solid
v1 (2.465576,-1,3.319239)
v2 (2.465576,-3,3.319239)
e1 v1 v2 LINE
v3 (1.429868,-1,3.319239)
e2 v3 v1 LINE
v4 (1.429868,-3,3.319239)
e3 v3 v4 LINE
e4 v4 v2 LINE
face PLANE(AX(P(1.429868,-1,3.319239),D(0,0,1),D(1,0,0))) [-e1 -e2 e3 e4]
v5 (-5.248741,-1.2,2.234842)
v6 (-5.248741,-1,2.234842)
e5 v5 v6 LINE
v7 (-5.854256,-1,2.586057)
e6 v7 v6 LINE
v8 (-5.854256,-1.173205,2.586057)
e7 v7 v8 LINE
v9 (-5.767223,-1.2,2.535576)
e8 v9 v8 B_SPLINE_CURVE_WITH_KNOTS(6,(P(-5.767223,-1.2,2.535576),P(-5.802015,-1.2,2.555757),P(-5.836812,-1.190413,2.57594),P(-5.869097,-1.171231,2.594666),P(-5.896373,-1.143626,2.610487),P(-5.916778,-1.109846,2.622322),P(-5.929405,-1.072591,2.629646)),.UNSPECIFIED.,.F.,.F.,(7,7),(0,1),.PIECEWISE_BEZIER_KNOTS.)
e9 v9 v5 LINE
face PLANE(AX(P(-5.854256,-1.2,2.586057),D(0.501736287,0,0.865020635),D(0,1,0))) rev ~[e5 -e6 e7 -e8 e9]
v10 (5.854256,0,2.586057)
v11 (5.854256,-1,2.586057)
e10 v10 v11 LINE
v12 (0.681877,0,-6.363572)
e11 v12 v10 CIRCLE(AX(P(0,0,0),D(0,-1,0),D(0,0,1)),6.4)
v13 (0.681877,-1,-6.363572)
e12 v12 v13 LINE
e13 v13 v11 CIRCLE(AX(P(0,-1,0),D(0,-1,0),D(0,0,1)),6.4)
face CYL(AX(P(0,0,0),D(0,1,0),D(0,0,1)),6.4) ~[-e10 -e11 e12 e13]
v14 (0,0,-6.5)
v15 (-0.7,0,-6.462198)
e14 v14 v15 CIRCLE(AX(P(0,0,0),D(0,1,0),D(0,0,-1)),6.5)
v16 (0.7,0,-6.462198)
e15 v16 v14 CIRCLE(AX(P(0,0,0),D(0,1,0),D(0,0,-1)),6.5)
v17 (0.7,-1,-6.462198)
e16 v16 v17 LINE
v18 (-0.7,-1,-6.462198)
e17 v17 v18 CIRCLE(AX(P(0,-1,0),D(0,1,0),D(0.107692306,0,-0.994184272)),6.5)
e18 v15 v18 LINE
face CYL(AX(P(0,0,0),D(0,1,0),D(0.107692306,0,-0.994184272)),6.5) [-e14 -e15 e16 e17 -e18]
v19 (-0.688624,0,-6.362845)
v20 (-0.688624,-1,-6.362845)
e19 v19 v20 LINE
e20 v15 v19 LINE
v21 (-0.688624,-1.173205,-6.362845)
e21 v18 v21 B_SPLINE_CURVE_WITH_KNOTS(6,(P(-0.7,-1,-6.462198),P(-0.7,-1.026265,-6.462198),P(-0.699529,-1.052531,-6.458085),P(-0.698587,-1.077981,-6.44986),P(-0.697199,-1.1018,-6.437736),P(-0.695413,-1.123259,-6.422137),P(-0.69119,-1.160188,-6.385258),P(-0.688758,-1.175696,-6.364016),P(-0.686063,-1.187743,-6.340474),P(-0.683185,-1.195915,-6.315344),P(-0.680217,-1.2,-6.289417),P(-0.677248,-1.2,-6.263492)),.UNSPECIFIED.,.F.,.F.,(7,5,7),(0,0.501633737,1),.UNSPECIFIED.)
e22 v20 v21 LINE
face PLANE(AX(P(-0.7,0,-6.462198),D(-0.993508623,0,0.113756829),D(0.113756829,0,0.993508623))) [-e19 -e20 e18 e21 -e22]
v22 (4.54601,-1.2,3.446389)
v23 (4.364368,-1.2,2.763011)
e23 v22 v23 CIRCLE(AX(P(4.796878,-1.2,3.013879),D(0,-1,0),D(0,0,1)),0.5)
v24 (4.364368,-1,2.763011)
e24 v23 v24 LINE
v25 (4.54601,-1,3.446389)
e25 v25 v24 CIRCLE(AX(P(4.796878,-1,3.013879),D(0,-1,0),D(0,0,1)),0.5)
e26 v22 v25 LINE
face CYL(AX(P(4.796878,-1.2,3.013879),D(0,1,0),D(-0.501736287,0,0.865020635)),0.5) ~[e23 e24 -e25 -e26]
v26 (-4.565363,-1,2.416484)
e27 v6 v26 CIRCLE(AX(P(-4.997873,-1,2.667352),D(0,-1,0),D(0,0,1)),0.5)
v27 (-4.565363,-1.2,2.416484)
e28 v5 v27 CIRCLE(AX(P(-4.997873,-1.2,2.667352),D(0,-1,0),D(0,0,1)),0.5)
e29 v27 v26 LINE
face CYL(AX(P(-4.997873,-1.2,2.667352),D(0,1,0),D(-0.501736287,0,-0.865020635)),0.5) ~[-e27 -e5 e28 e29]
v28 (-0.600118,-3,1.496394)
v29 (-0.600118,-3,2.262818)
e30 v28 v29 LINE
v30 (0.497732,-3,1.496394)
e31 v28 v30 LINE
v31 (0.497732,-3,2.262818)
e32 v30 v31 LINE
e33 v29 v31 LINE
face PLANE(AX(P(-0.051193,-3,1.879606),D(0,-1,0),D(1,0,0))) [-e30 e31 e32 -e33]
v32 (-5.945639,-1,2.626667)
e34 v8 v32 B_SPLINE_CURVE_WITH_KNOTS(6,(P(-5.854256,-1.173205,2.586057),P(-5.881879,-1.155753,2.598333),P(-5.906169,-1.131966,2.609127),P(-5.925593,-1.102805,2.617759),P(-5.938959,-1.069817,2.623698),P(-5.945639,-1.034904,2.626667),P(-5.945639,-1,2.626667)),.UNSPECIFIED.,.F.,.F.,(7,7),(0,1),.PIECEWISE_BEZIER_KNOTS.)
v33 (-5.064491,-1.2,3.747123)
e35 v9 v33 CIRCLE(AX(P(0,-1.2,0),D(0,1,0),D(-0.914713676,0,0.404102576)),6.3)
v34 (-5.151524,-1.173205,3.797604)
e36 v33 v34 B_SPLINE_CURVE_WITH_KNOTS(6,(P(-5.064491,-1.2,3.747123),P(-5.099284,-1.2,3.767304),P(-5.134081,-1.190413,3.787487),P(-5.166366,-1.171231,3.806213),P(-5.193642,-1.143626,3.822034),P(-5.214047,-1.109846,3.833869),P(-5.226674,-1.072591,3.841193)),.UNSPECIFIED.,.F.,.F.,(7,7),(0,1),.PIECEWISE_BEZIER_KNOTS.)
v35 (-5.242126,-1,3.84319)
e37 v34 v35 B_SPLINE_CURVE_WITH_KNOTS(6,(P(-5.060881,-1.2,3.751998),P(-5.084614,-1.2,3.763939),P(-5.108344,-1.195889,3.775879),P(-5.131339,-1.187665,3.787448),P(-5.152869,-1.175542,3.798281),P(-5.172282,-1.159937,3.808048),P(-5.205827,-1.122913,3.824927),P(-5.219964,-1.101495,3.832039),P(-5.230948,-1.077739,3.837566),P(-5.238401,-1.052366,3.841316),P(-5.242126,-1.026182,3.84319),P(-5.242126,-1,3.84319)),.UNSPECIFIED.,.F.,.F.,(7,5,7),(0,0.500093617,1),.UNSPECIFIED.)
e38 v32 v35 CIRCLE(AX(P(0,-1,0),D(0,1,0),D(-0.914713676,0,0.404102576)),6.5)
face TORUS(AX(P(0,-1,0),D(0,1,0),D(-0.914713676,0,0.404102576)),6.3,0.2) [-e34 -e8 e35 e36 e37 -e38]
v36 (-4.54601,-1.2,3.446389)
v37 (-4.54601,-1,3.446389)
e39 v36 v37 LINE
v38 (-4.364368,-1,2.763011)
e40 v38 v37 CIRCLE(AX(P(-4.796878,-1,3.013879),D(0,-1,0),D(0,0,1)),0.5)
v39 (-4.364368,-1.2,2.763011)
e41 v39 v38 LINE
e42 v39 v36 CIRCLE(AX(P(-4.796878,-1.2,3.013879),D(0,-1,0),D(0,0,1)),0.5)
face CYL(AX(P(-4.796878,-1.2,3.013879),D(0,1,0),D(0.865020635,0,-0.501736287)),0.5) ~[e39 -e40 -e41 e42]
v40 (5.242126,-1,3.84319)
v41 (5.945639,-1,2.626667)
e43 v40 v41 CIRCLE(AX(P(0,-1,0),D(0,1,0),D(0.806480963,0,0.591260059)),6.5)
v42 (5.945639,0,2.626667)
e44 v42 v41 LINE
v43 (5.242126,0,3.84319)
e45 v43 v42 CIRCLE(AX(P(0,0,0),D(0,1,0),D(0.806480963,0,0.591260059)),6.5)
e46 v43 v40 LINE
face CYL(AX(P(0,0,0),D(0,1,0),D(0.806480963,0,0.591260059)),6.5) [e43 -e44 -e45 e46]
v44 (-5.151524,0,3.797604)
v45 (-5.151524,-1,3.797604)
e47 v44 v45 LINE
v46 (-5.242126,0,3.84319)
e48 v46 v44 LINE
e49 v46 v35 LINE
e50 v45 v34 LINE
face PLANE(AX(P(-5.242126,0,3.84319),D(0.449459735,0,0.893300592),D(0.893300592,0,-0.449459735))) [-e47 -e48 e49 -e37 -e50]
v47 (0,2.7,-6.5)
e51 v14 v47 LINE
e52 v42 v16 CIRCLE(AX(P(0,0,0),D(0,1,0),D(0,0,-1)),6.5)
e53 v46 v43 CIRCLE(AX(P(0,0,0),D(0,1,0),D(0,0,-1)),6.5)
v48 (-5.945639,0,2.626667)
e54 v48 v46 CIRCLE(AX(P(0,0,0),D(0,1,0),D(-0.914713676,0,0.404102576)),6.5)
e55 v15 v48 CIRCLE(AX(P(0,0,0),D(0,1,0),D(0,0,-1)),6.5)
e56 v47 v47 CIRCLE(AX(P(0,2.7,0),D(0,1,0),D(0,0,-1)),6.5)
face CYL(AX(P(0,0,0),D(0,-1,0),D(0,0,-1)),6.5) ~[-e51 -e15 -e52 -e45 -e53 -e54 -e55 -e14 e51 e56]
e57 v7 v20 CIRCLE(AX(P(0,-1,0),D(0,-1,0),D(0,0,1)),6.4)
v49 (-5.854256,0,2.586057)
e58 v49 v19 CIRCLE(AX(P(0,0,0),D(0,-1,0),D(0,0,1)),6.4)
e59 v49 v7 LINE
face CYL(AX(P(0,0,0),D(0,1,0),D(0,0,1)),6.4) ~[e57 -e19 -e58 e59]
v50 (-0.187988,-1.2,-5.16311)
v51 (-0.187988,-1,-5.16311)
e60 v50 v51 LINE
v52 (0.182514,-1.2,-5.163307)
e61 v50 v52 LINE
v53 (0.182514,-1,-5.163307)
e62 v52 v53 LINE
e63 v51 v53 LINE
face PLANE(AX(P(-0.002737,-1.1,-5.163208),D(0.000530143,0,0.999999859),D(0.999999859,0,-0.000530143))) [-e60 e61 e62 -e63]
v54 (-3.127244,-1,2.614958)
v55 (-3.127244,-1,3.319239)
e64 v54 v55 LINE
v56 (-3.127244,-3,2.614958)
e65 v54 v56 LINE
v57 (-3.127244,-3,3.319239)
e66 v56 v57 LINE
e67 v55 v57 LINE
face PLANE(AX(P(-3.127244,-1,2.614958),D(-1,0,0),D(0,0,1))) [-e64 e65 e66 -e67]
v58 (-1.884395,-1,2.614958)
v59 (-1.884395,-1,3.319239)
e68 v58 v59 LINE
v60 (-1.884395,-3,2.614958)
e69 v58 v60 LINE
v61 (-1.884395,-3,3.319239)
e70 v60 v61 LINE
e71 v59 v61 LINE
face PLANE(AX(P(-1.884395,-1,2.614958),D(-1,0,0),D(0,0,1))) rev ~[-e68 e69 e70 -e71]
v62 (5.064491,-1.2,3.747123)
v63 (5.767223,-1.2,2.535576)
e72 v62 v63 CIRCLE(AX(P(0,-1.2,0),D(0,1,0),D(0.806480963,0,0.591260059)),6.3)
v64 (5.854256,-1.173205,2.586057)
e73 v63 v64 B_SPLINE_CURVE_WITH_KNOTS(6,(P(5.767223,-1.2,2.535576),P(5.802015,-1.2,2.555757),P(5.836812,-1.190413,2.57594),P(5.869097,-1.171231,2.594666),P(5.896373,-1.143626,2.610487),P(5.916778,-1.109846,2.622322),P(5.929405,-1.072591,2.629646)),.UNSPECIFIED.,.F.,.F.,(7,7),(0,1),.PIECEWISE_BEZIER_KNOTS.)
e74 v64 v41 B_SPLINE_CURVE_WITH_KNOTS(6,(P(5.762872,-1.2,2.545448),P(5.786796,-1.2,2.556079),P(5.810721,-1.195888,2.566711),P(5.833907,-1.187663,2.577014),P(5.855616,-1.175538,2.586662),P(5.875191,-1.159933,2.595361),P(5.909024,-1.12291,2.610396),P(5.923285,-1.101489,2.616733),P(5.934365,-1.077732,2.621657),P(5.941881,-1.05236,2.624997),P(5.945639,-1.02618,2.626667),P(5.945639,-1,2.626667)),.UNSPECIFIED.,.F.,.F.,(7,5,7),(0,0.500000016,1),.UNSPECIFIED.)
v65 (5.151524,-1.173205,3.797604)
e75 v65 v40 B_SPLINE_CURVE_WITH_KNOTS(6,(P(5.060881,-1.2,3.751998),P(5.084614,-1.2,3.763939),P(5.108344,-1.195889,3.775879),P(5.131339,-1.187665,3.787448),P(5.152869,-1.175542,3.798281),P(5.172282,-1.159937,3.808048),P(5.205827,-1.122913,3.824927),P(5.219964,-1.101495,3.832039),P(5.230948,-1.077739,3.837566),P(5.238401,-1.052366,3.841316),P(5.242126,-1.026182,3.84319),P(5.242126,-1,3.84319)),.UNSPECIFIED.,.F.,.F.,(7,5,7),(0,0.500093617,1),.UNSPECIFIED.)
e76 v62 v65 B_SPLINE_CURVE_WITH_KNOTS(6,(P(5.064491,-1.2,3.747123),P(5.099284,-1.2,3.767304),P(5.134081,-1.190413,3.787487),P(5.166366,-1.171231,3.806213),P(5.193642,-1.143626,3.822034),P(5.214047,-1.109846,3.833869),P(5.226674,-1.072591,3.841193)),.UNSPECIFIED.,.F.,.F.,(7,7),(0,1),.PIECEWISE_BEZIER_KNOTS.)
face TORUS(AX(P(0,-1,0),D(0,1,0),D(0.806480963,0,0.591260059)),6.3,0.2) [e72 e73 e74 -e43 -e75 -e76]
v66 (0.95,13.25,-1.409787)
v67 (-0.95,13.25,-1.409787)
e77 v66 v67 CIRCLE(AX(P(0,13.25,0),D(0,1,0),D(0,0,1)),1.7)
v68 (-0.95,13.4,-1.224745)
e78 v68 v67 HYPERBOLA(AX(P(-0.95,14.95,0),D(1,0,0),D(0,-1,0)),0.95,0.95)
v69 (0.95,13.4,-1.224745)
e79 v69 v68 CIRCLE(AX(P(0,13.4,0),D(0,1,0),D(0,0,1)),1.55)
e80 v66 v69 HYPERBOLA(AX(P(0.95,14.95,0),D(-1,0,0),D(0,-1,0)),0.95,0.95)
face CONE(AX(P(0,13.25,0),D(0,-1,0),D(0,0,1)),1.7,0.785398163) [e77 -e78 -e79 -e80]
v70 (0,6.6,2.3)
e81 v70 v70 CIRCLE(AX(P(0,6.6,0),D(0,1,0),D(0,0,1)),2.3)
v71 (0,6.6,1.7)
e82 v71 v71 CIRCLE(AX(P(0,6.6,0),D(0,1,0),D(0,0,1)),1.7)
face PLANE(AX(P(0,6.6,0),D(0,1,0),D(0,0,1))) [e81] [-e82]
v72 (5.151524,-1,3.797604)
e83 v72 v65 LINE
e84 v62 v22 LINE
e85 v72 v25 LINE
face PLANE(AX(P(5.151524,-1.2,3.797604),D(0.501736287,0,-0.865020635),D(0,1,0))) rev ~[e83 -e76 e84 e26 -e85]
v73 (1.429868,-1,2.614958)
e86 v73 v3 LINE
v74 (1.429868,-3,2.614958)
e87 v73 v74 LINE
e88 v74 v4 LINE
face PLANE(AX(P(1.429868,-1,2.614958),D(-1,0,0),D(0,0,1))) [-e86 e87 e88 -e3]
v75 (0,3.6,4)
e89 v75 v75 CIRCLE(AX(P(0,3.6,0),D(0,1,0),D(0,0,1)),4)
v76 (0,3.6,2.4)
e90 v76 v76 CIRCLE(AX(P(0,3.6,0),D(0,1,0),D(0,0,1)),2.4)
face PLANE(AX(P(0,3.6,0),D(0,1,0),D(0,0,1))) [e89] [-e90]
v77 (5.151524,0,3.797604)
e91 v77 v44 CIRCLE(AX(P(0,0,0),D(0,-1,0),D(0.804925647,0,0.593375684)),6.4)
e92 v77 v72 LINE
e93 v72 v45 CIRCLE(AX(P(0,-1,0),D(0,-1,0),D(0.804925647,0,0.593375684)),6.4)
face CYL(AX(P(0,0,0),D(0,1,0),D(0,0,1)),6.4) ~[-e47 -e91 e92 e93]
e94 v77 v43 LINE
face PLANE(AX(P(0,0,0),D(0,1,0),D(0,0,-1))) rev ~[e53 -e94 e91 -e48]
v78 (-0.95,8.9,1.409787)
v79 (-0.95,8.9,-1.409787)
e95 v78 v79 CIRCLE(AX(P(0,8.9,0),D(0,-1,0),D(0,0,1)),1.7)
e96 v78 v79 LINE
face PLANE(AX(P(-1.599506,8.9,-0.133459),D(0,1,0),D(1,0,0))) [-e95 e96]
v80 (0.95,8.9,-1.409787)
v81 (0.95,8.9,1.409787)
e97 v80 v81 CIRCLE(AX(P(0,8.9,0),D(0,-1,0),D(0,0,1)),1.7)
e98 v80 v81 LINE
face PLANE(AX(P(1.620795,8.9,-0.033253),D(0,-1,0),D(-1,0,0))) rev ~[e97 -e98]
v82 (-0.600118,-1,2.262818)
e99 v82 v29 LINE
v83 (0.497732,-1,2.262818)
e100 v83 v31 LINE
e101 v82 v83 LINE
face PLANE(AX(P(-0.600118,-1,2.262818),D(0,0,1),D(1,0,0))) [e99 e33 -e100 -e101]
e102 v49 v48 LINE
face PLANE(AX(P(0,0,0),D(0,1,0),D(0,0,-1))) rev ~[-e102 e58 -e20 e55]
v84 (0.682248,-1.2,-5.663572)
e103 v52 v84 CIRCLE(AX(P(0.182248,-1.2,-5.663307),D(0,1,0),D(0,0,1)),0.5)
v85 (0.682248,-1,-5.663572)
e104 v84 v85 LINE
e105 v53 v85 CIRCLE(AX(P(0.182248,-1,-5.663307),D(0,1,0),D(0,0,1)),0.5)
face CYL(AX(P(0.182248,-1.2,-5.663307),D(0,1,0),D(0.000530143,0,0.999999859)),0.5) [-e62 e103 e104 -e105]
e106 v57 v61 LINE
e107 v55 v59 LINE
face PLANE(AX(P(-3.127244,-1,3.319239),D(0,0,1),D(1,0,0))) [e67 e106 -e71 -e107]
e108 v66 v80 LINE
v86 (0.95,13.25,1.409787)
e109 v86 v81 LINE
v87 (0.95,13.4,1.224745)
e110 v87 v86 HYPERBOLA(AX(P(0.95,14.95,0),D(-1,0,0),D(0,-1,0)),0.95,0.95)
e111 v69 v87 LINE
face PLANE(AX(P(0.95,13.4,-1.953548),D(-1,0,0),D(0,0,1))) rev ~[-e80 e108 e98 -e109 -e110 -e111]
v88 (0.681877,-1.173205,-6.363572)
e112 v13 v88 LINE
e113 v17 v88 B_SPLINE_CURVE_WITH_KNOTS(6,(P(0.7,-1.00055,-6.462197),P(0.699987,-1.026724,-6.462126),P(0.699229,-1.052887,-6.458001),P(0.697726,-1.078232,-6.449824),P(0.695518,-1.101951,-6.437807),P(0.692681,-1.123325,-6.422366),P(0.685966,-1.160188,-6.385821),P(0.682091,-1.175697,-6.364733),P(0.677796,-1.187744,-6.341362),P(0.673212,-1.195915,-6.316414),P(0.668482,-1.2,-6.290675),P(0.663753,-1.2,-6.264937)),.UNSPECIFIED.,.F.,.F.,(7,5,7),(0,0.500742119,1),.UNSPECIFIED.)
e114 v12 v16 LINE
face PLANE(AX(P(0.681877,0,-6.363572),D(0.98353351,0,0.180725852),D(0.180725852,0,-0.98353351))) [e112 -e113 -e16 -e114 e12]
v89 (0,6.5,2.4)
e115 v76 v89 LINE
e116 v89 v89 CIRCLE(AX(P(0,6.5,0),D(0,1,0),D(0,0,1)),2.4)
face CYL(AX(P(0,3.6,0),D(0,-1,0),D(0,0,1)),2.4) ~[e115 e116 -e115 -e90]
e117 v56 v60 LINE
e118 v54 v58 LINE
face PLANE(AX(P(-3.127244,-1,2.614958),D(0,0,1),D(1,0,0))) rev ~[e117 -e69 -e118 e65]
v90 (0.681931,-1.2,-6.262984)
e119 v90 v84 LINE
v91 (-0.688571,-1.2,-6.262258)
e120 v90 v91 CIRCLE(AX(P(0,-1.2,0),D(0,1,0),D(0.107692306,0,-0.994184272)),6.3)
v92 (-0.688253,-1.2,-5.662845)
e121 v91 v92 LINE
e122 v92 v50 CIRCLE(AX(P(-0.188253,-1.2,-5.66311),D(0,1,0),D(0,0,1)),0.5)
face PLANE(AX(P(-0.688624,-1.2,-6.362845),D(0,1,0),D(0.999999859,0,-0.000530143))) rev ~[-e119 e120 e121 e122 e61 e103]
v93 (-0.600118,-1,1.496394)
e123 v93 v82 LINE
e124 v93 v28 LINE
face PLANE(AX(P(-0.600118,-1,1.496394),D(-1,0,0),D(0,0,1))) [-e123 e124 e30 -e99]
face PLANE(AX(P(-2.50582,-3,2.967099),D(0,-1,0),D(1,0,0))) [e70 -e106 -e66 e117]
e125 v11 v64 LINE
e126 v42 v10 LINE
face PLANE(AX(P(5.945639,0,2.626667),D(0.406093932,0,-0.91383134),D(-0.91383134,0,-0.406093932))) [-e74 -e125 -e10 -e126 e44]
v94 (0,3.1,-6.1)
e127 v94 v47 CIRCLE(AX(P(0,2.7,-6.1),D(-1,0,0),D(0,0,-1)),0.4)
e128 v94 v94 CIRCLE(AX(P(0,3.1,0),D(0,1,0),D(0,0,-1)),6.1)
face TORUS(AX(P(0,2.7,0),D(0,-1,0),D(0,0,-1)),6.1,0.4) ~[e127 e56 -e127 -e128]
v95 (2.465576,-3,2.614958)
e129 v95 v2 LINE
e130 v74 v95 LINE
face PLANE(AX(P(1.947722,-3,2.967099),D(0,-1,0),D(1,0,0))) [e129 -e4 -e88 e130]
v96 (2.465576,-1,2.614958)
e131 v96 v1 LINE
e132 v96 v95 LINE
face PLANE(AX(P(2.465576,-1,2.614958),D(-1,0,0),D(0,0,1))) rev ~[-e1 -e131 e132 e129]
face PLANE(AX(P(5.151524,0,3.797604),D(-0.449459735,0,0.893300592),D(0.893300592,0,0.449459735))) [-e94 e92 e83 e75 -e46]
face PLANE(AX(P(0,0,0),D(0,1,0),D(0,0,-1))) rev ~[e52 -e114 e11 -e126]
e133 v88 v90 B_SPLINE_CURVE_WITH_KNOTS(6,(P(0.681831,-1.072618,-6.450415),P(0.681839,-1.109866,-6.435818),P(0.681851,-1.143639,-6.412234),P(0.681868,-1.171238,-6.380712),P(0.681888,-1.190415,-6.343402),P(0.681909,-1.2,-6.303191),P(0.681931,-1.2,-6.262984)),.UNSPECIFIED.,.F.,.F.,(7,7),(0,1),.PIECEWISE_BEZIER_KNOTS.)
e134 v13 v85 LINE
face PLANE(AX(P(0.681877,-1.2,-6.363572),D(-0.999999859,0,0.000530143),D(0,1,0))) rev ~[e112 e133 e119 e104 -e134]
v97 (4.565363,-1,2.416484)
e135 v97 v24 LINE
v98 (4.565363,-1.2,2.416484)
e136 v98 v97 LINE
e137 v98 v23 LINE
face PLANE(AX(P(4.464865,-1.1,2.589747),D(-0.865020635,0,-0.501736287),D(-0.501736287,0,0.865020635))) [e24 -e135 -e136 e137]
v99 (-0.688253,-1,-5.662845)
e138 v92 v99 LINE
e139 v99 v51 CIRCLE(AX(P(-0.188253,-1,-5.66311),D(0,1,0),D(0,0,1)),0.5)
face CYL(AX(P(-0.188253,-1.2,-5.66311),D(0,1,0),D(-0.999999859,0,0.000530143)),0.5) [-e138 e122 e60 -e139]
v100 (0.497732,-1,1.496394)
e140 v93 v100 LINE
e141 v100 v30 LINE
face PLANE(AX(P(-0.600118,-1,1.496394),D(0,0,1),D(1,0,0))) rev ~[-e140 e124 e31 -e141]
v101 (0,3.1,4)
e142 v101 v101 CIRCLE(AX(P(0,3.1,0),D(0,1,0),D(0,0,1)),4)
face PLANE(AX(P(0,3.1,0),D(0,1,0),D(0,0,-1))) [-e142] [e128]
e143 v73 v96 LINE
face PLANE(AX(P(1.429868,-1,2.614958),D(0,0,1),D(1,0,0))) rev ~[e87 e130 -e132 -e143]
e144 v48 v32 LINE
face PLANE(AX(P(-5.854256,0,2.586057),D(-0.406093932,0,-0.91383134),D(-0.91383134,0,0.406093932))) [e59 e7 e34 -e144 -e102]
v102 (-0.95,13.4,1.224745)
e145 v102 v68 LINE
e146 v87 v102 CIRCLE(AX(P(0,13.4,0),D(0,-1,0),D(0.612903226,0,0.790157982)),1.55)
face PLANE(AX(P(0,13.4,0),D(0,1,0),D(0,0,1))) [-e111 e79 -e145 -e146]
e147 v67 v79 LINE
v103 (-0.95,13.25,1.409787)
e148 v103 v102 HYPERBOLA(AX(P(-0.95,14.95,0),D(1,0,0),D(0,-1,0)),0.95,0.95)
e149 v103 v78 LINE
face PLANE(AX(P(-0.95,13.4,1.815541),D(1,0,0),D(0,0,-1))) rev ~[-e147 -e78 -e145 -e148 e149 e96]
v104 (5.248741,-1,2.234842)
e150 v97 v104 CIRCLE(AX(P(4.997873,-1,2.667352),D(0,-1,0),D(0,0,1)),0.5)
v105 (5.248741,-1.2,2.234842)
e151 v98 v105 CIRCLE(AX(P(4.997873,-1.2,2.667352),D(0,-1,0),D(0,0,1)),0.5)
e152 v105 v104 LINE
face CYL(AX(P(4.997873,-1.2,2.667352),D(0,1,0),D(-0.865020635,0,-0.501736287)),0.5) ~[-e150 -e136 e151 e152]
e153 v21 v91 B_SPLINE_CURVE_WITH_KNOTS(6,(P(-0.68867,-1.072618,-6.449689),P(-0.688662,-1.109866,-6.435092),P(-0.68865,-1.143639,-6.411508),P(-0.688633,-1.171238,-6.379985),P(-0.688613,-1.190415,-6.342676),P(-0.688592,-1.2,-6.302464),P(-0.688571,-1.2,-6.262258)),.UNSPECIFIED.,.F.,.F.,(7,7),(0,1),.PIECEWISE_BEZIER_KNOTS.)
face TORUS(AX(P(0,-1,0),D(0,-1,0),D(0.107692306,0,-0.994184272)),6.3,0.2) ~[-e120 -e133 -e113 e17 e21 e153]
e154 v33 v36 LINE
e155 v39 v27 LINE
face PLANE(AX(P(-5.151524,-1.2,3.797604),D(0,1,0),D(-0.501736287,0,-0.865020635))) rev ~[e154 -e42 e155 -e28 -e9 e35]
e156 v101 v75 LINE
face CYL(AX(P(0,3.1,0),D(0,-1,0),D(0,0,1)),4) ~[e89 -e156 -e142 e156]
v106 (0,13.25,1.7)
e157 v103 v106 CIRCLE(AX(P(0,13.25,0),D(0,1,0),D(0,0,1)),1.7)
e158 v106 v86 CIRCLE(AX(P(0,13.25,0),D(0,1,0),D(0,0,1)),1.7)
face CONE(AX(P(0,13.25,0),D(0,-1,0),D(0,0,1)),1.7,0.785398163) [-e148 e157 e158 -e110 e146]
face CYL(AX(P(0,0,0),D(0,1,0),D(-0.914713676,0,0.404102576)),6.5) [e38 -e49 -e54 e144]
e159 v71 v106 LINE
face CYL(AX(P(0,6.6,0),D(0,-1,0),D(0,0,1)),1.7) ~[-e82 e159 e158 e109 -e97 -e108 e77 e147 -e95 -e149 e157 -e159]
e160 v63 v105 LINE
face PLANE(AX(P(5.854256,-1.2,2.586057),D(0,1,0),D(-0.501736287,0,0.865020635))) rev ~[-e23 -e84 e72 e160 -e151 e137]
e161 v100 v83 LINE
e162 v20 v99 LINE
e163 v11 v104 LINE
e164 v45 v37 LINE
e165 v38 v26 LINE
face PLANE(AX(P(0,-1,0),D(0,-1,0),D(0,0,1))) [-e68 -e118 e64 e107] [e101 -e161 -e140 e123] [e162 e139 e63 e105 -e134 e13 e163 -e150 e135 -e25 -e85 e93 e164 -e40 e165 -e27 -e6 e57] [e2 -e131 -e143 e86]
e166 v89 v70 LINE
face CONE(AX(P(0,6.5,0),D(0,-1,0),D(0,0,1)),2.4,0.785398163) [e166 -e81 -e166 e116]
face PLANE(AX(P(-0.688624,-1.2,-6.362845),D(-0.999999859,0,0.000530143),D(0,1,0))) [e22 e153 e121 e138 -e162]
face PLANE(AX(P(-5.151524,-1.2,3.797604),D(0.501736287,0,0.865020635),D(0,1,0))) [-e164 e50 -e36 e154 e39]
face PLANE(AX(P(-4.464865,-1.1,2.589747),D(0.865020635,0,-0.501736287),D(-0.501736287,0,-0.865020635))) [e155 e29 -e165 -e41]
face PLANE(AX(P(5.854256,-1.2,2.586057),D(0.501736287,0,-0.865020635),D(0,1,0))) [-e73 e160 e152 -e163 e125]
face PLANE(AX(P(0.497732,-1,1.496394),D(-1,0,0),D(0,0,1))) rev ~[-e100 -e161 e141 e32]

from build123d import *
from build123d.topology import SkipClean

# Parameters (mm, degrees)
SKETCH1_R            = 6.5
BOSS_EXTRUDE1_DEPTH  = 3.1
SKETCH2_R            = 4
BOSS_EXTRUDE2_DEPTH  = 0.5
SKETCH3_R            = 2.4
BOSS_EXTRUDE3_DEPTH  = 3
SKETCH4_R            = 1.7
BOSS_EXTRUDE4_DEPTH  = 6.8
CHAMFER1_SIZE        = 0.15
CUT_EXTRUDE1_DEPTH   = 4.5
SKETCH6_R            = 6.4
BOSS_EXTRUDE5_DEPTH  = 1
FILLET1_R            = 0.4
CHAMFER2_SIZE        = 0.1
BOSS_EXTRUDE6_DEPTH  = 1.2
SKETCH8_W            = 1.400599112
SKETCH8_H            = 0.2
BOSS_EXTRUDE7_DEPTH  = 1.2
SKETCH9_W            = 1.400599112
SKETCH9_H            = 0.2
BOSS_EXTRUDE8_DEPTH  = 1.2
SKETCH10_W           = 1.370501576
SKETCH10_H           = 0.2
BOSS_EXTRUDE9_DEPTH  = 1.2
FILLET2_R            = 0.5
FILLET3_R            = 0.2
SKETCH11_W           = 1.09784978
SKETCH11_H           = 0.766423431
SKETCH11_W_2         = 1.035707339
SKETCH11_H_2         = 0.70428099
SKETCH11_W_3         = 1.242848807
BOSS_EXTRUDE10_DEPTH = 2


with BuildPart() as part:
    # Sketch1 → Boss-Extrude1 (new body)
    with BuildSketch(Plane(origin=(0, 0, 0), x_dir=(1, 0, 0), z_dir=(0, 1, 0))):
        with Locations(Location((0, 0, 0), (0, 0, 90))):
            Circle(SKETCH1_R)
    extrude(amount=BOSS_EXTRUDE1_DEPTH)

    # Sketch2 → Boss-Extrude2 (add)
    with BuildSketch(Plane(origin=(0, 3.1, 0), x_dir=(1, 0, 0), z_dir=(0, 1, 0))):
        with Locations(Location((0, 0, 0), (0, 0, 270))):
            Circle(SKETCH2_R)
    extrude(amount=BOSS_EXTRUDE2_DEPTH)

    # Sketch3 → Boss-Extrude3 (add)
    with BuildSketch(Plane(origin=(0, 3.6, 0), x_dir=(-1, 0, 0), z_dir=(0, 1, 0))):
        with Locations(Location((0, 0, 0), (0, 0, 90))):
            Circle(SKETCH3_R)
    extrude(amount=BOSS_EXTRUDE3_DEPTH)

    # Sketch4 → Boss-Extrude4 (add)
    with BuildSketch(Plane(origin=(0, 6.6, 0), x_dir=(1, 0, 0), z_dir=(0, 1, 0))):
        with Locations(Location((0, 0, 0), (0, 0, 270))):
            Circle(SKETCH4_R)
    extrude(amount=BOSS_EXTRUDE4_DEPTH)

    # Chamfer1
    chamfer1_edges = [part.edges().sort_by_distance(p)[0] for p in [
        (0, 13.4, -1.7),
    ]]
    chamfer(chamfer1_edges, length=CHAMFER1_SIZE)

    # Sketch5 → Cut-Extrude1 (cut)
    with BuildSketch(Plane(origin=(0, 13.4, 0), x_dir=(1, 0, 0), z_dir=(0, 1, 0))):
        Polygon((0.95, 0), (0.95, 1.953547683), (2.291589772, 1.953547683), (2.291589772, -1.88704126), (0.95, -1.88704126), align=None)
        Polygon((-0.95, 0), (-0.95, 2.055691006), (-2.284431096, 2.055691006), (-2.21293077, -1.815540934), (-0.95, -1.815540934), align=None)
    extrude(amount=-CUT_EXTRUDE1_DEPTH, mode=Mode.SUBTRACT)

    # Sketch6 → Boss-Extrude5 (add)
    with BuildSketch(Plane.XZ):
        with Locations(Location((0, 0, 0), (0, 0, 90))):
            Circle(SKETCH6_R)
    extrude(amount=BOSS_EXTRUDE5_DEPTH)

    # Fillet1
    fillet1_edges = [part.edges().sort_by_distance(p)[0] for p in [
        (0, 3.1, 6.5),
    ]]
    fillet(fillet1_edges, radius=FILLET1_R)

    # Chamfer2
    chamfer2_edges = [part.edges().sort_by_distance(p)[0] for p in [
        (0, 6.6, -2.4),
    ]]
    chamfer(chamfer2_edges, length=CHAMFER2_SIZE)

    # Sketch7 → Boss-Extrude6 (add)
    with SkipClean():  # the faces are left unmerged after this step: merging them gives an invalid solid
        with BuildSketch(Plane.XZ):
            with BuildLine():
                Line((5.151524141, 3.79760438), (5.242126256, 3.843190382))
                ThreePointArc((5.242126256, 3.843190382), (5.626855667, 3.253996819), (5.945638893, 2.626666738))
                Line((5.945638893, 2.626666738), (5.854255539, 2.586057247))
                Line((5.854255539, 2.586057247), (5.151524141, 3.79760438))
            make_face()
            with BuildLine():
                Line((-5.242126256, 3.843190382), (-5.151524141, 3.79760438))
                Line((-5.151524141, 3.79760438), (-5.854255539, 2.586057247))
                Line((-5.854255539, 2.586057247), (-5.945638893, 2.626666738))
                ThreePointArc((-5.945638893, 2.626666738), (-5.626855667, 3.253996819), (-5.242126256, 3.843190382))
            make_face()
            with BuildLine():
                Line((-0.7, -6.462197769), (-0.688624102, -6.362845028))
                Line((-0.688624102, -6.362845028), (0.681877282, -6.363571589))
                Line((0.681877282, -6.363571589), (0.7, -6.462197769))
                ThreePointArc((0.7, -6.462197769), (0, -6.5), (-0.7, -6.462197769))
            make_face()
        extrude(amount=BOSS_EXTRUDE6_DEPTH)

    # Sketch8 → Boss-Extrude7 (add)
    with SkipClean():  # the faces are left unmerged after this step: merging them gives an invalid solid
        with BuildSketch(Plane(origin=(5.50288984, 0, 3.191830814), x_dir=(-0.5017362869920535, 0, 0.8650206346182893), z_dir=(-0.8650206346182893, 0, -0.5017362869920535))):
            with Locations((0, -1.1)):
                Rectangle(SKETCH8_W, SKETCH8_H)
        extrude(amount=BOSS_EXTRUDE7_DEPTH)

    # Sketch9 → Boss-Extrude8 (add)
    with SkipClean():  # the faces are left unmerged after this step: merging them gives an invalid solid
        with BuildSketch(Plane(origin=(-5.50288984, 0, 3.191830814), x_dir=(-0.5017362869920535, 0, -0.8650206346182893), z_dir=(0.8650206346182893, 0, -0.5017362869920535))):
            with Locations((0, -1.1)):
                Rectangle(SKETCH9_W, SKETCH9_H)
        extrude(amount=BOSS_EXTRUDE8_DEPTH)

    # Sketch10 → Boss-Extrude9 (add)
    with SkipClean():  # the faces are left unmerged after this step: merging them gives an invalid solid
        with BuildSketch(Plane(origin=(-0.00337341, 0, -6.363208308), x_dir=(0.9999998594742814, 0, -0.0005301428274771333), z_dir=(0.0005301428274771333, 0, 0.9999998594742814))):
            with Locations((0, -1.1)):
                Rectangle(SKETCH10_W, SKETCH10_H)
        extrude(amount=BOSS_EXTRUDE9_DEPTH)

    # Fillet2
    fillet2_edges = [part.edges().sort_by_distance(p)[0] for p in [
        (4.113499379, -1.1, 3.195520836),
        (4.816230777, -1.1, 1.983973703),
        (-4.113499379, -1.1, 3.195520836),
        (-4.816230777, -1.1, 1.983973703),
        (0.682513454, -1.1, -5.163571758),
        (-0.68798793, -1.1, -5.162845196),
    ]]
    fillet(fillet2_edges, radius=FILLET2_R)

    # Fillet3
    fillet3_edges = [part.edges().sort_by_distance(p)[0] for p in [
        (5.626855667, -1.2, 3.253996819),
        (0, -1.2, -6.5),
        (-5.626855667, -1.2, 3.253996819),
    ]]
    fillet(fillet3_edges, radius=FILLET3_R)

    # Sketch11 → Boss-Extrude10 (add)
    with BuildSketch(Plane.XZ.offset(1)):
        with Locations((-0.051193187, 1.87960604)):
            Rectangle(SKETCH11_W, SKETCH11_H)
        with Locations((1.947721978, 2.967098746)):
            Rectangle(SKETCH11_W_2, SKETCH11_H_2)
        with Locations((-2.505819581, 2.967098746)):
            Rectangle(SKETCH11_W_3, SKETCH11_H_2)
    extrude(amount=BOSS_EXTRUDE10_DEPTH)


solid = part.part
